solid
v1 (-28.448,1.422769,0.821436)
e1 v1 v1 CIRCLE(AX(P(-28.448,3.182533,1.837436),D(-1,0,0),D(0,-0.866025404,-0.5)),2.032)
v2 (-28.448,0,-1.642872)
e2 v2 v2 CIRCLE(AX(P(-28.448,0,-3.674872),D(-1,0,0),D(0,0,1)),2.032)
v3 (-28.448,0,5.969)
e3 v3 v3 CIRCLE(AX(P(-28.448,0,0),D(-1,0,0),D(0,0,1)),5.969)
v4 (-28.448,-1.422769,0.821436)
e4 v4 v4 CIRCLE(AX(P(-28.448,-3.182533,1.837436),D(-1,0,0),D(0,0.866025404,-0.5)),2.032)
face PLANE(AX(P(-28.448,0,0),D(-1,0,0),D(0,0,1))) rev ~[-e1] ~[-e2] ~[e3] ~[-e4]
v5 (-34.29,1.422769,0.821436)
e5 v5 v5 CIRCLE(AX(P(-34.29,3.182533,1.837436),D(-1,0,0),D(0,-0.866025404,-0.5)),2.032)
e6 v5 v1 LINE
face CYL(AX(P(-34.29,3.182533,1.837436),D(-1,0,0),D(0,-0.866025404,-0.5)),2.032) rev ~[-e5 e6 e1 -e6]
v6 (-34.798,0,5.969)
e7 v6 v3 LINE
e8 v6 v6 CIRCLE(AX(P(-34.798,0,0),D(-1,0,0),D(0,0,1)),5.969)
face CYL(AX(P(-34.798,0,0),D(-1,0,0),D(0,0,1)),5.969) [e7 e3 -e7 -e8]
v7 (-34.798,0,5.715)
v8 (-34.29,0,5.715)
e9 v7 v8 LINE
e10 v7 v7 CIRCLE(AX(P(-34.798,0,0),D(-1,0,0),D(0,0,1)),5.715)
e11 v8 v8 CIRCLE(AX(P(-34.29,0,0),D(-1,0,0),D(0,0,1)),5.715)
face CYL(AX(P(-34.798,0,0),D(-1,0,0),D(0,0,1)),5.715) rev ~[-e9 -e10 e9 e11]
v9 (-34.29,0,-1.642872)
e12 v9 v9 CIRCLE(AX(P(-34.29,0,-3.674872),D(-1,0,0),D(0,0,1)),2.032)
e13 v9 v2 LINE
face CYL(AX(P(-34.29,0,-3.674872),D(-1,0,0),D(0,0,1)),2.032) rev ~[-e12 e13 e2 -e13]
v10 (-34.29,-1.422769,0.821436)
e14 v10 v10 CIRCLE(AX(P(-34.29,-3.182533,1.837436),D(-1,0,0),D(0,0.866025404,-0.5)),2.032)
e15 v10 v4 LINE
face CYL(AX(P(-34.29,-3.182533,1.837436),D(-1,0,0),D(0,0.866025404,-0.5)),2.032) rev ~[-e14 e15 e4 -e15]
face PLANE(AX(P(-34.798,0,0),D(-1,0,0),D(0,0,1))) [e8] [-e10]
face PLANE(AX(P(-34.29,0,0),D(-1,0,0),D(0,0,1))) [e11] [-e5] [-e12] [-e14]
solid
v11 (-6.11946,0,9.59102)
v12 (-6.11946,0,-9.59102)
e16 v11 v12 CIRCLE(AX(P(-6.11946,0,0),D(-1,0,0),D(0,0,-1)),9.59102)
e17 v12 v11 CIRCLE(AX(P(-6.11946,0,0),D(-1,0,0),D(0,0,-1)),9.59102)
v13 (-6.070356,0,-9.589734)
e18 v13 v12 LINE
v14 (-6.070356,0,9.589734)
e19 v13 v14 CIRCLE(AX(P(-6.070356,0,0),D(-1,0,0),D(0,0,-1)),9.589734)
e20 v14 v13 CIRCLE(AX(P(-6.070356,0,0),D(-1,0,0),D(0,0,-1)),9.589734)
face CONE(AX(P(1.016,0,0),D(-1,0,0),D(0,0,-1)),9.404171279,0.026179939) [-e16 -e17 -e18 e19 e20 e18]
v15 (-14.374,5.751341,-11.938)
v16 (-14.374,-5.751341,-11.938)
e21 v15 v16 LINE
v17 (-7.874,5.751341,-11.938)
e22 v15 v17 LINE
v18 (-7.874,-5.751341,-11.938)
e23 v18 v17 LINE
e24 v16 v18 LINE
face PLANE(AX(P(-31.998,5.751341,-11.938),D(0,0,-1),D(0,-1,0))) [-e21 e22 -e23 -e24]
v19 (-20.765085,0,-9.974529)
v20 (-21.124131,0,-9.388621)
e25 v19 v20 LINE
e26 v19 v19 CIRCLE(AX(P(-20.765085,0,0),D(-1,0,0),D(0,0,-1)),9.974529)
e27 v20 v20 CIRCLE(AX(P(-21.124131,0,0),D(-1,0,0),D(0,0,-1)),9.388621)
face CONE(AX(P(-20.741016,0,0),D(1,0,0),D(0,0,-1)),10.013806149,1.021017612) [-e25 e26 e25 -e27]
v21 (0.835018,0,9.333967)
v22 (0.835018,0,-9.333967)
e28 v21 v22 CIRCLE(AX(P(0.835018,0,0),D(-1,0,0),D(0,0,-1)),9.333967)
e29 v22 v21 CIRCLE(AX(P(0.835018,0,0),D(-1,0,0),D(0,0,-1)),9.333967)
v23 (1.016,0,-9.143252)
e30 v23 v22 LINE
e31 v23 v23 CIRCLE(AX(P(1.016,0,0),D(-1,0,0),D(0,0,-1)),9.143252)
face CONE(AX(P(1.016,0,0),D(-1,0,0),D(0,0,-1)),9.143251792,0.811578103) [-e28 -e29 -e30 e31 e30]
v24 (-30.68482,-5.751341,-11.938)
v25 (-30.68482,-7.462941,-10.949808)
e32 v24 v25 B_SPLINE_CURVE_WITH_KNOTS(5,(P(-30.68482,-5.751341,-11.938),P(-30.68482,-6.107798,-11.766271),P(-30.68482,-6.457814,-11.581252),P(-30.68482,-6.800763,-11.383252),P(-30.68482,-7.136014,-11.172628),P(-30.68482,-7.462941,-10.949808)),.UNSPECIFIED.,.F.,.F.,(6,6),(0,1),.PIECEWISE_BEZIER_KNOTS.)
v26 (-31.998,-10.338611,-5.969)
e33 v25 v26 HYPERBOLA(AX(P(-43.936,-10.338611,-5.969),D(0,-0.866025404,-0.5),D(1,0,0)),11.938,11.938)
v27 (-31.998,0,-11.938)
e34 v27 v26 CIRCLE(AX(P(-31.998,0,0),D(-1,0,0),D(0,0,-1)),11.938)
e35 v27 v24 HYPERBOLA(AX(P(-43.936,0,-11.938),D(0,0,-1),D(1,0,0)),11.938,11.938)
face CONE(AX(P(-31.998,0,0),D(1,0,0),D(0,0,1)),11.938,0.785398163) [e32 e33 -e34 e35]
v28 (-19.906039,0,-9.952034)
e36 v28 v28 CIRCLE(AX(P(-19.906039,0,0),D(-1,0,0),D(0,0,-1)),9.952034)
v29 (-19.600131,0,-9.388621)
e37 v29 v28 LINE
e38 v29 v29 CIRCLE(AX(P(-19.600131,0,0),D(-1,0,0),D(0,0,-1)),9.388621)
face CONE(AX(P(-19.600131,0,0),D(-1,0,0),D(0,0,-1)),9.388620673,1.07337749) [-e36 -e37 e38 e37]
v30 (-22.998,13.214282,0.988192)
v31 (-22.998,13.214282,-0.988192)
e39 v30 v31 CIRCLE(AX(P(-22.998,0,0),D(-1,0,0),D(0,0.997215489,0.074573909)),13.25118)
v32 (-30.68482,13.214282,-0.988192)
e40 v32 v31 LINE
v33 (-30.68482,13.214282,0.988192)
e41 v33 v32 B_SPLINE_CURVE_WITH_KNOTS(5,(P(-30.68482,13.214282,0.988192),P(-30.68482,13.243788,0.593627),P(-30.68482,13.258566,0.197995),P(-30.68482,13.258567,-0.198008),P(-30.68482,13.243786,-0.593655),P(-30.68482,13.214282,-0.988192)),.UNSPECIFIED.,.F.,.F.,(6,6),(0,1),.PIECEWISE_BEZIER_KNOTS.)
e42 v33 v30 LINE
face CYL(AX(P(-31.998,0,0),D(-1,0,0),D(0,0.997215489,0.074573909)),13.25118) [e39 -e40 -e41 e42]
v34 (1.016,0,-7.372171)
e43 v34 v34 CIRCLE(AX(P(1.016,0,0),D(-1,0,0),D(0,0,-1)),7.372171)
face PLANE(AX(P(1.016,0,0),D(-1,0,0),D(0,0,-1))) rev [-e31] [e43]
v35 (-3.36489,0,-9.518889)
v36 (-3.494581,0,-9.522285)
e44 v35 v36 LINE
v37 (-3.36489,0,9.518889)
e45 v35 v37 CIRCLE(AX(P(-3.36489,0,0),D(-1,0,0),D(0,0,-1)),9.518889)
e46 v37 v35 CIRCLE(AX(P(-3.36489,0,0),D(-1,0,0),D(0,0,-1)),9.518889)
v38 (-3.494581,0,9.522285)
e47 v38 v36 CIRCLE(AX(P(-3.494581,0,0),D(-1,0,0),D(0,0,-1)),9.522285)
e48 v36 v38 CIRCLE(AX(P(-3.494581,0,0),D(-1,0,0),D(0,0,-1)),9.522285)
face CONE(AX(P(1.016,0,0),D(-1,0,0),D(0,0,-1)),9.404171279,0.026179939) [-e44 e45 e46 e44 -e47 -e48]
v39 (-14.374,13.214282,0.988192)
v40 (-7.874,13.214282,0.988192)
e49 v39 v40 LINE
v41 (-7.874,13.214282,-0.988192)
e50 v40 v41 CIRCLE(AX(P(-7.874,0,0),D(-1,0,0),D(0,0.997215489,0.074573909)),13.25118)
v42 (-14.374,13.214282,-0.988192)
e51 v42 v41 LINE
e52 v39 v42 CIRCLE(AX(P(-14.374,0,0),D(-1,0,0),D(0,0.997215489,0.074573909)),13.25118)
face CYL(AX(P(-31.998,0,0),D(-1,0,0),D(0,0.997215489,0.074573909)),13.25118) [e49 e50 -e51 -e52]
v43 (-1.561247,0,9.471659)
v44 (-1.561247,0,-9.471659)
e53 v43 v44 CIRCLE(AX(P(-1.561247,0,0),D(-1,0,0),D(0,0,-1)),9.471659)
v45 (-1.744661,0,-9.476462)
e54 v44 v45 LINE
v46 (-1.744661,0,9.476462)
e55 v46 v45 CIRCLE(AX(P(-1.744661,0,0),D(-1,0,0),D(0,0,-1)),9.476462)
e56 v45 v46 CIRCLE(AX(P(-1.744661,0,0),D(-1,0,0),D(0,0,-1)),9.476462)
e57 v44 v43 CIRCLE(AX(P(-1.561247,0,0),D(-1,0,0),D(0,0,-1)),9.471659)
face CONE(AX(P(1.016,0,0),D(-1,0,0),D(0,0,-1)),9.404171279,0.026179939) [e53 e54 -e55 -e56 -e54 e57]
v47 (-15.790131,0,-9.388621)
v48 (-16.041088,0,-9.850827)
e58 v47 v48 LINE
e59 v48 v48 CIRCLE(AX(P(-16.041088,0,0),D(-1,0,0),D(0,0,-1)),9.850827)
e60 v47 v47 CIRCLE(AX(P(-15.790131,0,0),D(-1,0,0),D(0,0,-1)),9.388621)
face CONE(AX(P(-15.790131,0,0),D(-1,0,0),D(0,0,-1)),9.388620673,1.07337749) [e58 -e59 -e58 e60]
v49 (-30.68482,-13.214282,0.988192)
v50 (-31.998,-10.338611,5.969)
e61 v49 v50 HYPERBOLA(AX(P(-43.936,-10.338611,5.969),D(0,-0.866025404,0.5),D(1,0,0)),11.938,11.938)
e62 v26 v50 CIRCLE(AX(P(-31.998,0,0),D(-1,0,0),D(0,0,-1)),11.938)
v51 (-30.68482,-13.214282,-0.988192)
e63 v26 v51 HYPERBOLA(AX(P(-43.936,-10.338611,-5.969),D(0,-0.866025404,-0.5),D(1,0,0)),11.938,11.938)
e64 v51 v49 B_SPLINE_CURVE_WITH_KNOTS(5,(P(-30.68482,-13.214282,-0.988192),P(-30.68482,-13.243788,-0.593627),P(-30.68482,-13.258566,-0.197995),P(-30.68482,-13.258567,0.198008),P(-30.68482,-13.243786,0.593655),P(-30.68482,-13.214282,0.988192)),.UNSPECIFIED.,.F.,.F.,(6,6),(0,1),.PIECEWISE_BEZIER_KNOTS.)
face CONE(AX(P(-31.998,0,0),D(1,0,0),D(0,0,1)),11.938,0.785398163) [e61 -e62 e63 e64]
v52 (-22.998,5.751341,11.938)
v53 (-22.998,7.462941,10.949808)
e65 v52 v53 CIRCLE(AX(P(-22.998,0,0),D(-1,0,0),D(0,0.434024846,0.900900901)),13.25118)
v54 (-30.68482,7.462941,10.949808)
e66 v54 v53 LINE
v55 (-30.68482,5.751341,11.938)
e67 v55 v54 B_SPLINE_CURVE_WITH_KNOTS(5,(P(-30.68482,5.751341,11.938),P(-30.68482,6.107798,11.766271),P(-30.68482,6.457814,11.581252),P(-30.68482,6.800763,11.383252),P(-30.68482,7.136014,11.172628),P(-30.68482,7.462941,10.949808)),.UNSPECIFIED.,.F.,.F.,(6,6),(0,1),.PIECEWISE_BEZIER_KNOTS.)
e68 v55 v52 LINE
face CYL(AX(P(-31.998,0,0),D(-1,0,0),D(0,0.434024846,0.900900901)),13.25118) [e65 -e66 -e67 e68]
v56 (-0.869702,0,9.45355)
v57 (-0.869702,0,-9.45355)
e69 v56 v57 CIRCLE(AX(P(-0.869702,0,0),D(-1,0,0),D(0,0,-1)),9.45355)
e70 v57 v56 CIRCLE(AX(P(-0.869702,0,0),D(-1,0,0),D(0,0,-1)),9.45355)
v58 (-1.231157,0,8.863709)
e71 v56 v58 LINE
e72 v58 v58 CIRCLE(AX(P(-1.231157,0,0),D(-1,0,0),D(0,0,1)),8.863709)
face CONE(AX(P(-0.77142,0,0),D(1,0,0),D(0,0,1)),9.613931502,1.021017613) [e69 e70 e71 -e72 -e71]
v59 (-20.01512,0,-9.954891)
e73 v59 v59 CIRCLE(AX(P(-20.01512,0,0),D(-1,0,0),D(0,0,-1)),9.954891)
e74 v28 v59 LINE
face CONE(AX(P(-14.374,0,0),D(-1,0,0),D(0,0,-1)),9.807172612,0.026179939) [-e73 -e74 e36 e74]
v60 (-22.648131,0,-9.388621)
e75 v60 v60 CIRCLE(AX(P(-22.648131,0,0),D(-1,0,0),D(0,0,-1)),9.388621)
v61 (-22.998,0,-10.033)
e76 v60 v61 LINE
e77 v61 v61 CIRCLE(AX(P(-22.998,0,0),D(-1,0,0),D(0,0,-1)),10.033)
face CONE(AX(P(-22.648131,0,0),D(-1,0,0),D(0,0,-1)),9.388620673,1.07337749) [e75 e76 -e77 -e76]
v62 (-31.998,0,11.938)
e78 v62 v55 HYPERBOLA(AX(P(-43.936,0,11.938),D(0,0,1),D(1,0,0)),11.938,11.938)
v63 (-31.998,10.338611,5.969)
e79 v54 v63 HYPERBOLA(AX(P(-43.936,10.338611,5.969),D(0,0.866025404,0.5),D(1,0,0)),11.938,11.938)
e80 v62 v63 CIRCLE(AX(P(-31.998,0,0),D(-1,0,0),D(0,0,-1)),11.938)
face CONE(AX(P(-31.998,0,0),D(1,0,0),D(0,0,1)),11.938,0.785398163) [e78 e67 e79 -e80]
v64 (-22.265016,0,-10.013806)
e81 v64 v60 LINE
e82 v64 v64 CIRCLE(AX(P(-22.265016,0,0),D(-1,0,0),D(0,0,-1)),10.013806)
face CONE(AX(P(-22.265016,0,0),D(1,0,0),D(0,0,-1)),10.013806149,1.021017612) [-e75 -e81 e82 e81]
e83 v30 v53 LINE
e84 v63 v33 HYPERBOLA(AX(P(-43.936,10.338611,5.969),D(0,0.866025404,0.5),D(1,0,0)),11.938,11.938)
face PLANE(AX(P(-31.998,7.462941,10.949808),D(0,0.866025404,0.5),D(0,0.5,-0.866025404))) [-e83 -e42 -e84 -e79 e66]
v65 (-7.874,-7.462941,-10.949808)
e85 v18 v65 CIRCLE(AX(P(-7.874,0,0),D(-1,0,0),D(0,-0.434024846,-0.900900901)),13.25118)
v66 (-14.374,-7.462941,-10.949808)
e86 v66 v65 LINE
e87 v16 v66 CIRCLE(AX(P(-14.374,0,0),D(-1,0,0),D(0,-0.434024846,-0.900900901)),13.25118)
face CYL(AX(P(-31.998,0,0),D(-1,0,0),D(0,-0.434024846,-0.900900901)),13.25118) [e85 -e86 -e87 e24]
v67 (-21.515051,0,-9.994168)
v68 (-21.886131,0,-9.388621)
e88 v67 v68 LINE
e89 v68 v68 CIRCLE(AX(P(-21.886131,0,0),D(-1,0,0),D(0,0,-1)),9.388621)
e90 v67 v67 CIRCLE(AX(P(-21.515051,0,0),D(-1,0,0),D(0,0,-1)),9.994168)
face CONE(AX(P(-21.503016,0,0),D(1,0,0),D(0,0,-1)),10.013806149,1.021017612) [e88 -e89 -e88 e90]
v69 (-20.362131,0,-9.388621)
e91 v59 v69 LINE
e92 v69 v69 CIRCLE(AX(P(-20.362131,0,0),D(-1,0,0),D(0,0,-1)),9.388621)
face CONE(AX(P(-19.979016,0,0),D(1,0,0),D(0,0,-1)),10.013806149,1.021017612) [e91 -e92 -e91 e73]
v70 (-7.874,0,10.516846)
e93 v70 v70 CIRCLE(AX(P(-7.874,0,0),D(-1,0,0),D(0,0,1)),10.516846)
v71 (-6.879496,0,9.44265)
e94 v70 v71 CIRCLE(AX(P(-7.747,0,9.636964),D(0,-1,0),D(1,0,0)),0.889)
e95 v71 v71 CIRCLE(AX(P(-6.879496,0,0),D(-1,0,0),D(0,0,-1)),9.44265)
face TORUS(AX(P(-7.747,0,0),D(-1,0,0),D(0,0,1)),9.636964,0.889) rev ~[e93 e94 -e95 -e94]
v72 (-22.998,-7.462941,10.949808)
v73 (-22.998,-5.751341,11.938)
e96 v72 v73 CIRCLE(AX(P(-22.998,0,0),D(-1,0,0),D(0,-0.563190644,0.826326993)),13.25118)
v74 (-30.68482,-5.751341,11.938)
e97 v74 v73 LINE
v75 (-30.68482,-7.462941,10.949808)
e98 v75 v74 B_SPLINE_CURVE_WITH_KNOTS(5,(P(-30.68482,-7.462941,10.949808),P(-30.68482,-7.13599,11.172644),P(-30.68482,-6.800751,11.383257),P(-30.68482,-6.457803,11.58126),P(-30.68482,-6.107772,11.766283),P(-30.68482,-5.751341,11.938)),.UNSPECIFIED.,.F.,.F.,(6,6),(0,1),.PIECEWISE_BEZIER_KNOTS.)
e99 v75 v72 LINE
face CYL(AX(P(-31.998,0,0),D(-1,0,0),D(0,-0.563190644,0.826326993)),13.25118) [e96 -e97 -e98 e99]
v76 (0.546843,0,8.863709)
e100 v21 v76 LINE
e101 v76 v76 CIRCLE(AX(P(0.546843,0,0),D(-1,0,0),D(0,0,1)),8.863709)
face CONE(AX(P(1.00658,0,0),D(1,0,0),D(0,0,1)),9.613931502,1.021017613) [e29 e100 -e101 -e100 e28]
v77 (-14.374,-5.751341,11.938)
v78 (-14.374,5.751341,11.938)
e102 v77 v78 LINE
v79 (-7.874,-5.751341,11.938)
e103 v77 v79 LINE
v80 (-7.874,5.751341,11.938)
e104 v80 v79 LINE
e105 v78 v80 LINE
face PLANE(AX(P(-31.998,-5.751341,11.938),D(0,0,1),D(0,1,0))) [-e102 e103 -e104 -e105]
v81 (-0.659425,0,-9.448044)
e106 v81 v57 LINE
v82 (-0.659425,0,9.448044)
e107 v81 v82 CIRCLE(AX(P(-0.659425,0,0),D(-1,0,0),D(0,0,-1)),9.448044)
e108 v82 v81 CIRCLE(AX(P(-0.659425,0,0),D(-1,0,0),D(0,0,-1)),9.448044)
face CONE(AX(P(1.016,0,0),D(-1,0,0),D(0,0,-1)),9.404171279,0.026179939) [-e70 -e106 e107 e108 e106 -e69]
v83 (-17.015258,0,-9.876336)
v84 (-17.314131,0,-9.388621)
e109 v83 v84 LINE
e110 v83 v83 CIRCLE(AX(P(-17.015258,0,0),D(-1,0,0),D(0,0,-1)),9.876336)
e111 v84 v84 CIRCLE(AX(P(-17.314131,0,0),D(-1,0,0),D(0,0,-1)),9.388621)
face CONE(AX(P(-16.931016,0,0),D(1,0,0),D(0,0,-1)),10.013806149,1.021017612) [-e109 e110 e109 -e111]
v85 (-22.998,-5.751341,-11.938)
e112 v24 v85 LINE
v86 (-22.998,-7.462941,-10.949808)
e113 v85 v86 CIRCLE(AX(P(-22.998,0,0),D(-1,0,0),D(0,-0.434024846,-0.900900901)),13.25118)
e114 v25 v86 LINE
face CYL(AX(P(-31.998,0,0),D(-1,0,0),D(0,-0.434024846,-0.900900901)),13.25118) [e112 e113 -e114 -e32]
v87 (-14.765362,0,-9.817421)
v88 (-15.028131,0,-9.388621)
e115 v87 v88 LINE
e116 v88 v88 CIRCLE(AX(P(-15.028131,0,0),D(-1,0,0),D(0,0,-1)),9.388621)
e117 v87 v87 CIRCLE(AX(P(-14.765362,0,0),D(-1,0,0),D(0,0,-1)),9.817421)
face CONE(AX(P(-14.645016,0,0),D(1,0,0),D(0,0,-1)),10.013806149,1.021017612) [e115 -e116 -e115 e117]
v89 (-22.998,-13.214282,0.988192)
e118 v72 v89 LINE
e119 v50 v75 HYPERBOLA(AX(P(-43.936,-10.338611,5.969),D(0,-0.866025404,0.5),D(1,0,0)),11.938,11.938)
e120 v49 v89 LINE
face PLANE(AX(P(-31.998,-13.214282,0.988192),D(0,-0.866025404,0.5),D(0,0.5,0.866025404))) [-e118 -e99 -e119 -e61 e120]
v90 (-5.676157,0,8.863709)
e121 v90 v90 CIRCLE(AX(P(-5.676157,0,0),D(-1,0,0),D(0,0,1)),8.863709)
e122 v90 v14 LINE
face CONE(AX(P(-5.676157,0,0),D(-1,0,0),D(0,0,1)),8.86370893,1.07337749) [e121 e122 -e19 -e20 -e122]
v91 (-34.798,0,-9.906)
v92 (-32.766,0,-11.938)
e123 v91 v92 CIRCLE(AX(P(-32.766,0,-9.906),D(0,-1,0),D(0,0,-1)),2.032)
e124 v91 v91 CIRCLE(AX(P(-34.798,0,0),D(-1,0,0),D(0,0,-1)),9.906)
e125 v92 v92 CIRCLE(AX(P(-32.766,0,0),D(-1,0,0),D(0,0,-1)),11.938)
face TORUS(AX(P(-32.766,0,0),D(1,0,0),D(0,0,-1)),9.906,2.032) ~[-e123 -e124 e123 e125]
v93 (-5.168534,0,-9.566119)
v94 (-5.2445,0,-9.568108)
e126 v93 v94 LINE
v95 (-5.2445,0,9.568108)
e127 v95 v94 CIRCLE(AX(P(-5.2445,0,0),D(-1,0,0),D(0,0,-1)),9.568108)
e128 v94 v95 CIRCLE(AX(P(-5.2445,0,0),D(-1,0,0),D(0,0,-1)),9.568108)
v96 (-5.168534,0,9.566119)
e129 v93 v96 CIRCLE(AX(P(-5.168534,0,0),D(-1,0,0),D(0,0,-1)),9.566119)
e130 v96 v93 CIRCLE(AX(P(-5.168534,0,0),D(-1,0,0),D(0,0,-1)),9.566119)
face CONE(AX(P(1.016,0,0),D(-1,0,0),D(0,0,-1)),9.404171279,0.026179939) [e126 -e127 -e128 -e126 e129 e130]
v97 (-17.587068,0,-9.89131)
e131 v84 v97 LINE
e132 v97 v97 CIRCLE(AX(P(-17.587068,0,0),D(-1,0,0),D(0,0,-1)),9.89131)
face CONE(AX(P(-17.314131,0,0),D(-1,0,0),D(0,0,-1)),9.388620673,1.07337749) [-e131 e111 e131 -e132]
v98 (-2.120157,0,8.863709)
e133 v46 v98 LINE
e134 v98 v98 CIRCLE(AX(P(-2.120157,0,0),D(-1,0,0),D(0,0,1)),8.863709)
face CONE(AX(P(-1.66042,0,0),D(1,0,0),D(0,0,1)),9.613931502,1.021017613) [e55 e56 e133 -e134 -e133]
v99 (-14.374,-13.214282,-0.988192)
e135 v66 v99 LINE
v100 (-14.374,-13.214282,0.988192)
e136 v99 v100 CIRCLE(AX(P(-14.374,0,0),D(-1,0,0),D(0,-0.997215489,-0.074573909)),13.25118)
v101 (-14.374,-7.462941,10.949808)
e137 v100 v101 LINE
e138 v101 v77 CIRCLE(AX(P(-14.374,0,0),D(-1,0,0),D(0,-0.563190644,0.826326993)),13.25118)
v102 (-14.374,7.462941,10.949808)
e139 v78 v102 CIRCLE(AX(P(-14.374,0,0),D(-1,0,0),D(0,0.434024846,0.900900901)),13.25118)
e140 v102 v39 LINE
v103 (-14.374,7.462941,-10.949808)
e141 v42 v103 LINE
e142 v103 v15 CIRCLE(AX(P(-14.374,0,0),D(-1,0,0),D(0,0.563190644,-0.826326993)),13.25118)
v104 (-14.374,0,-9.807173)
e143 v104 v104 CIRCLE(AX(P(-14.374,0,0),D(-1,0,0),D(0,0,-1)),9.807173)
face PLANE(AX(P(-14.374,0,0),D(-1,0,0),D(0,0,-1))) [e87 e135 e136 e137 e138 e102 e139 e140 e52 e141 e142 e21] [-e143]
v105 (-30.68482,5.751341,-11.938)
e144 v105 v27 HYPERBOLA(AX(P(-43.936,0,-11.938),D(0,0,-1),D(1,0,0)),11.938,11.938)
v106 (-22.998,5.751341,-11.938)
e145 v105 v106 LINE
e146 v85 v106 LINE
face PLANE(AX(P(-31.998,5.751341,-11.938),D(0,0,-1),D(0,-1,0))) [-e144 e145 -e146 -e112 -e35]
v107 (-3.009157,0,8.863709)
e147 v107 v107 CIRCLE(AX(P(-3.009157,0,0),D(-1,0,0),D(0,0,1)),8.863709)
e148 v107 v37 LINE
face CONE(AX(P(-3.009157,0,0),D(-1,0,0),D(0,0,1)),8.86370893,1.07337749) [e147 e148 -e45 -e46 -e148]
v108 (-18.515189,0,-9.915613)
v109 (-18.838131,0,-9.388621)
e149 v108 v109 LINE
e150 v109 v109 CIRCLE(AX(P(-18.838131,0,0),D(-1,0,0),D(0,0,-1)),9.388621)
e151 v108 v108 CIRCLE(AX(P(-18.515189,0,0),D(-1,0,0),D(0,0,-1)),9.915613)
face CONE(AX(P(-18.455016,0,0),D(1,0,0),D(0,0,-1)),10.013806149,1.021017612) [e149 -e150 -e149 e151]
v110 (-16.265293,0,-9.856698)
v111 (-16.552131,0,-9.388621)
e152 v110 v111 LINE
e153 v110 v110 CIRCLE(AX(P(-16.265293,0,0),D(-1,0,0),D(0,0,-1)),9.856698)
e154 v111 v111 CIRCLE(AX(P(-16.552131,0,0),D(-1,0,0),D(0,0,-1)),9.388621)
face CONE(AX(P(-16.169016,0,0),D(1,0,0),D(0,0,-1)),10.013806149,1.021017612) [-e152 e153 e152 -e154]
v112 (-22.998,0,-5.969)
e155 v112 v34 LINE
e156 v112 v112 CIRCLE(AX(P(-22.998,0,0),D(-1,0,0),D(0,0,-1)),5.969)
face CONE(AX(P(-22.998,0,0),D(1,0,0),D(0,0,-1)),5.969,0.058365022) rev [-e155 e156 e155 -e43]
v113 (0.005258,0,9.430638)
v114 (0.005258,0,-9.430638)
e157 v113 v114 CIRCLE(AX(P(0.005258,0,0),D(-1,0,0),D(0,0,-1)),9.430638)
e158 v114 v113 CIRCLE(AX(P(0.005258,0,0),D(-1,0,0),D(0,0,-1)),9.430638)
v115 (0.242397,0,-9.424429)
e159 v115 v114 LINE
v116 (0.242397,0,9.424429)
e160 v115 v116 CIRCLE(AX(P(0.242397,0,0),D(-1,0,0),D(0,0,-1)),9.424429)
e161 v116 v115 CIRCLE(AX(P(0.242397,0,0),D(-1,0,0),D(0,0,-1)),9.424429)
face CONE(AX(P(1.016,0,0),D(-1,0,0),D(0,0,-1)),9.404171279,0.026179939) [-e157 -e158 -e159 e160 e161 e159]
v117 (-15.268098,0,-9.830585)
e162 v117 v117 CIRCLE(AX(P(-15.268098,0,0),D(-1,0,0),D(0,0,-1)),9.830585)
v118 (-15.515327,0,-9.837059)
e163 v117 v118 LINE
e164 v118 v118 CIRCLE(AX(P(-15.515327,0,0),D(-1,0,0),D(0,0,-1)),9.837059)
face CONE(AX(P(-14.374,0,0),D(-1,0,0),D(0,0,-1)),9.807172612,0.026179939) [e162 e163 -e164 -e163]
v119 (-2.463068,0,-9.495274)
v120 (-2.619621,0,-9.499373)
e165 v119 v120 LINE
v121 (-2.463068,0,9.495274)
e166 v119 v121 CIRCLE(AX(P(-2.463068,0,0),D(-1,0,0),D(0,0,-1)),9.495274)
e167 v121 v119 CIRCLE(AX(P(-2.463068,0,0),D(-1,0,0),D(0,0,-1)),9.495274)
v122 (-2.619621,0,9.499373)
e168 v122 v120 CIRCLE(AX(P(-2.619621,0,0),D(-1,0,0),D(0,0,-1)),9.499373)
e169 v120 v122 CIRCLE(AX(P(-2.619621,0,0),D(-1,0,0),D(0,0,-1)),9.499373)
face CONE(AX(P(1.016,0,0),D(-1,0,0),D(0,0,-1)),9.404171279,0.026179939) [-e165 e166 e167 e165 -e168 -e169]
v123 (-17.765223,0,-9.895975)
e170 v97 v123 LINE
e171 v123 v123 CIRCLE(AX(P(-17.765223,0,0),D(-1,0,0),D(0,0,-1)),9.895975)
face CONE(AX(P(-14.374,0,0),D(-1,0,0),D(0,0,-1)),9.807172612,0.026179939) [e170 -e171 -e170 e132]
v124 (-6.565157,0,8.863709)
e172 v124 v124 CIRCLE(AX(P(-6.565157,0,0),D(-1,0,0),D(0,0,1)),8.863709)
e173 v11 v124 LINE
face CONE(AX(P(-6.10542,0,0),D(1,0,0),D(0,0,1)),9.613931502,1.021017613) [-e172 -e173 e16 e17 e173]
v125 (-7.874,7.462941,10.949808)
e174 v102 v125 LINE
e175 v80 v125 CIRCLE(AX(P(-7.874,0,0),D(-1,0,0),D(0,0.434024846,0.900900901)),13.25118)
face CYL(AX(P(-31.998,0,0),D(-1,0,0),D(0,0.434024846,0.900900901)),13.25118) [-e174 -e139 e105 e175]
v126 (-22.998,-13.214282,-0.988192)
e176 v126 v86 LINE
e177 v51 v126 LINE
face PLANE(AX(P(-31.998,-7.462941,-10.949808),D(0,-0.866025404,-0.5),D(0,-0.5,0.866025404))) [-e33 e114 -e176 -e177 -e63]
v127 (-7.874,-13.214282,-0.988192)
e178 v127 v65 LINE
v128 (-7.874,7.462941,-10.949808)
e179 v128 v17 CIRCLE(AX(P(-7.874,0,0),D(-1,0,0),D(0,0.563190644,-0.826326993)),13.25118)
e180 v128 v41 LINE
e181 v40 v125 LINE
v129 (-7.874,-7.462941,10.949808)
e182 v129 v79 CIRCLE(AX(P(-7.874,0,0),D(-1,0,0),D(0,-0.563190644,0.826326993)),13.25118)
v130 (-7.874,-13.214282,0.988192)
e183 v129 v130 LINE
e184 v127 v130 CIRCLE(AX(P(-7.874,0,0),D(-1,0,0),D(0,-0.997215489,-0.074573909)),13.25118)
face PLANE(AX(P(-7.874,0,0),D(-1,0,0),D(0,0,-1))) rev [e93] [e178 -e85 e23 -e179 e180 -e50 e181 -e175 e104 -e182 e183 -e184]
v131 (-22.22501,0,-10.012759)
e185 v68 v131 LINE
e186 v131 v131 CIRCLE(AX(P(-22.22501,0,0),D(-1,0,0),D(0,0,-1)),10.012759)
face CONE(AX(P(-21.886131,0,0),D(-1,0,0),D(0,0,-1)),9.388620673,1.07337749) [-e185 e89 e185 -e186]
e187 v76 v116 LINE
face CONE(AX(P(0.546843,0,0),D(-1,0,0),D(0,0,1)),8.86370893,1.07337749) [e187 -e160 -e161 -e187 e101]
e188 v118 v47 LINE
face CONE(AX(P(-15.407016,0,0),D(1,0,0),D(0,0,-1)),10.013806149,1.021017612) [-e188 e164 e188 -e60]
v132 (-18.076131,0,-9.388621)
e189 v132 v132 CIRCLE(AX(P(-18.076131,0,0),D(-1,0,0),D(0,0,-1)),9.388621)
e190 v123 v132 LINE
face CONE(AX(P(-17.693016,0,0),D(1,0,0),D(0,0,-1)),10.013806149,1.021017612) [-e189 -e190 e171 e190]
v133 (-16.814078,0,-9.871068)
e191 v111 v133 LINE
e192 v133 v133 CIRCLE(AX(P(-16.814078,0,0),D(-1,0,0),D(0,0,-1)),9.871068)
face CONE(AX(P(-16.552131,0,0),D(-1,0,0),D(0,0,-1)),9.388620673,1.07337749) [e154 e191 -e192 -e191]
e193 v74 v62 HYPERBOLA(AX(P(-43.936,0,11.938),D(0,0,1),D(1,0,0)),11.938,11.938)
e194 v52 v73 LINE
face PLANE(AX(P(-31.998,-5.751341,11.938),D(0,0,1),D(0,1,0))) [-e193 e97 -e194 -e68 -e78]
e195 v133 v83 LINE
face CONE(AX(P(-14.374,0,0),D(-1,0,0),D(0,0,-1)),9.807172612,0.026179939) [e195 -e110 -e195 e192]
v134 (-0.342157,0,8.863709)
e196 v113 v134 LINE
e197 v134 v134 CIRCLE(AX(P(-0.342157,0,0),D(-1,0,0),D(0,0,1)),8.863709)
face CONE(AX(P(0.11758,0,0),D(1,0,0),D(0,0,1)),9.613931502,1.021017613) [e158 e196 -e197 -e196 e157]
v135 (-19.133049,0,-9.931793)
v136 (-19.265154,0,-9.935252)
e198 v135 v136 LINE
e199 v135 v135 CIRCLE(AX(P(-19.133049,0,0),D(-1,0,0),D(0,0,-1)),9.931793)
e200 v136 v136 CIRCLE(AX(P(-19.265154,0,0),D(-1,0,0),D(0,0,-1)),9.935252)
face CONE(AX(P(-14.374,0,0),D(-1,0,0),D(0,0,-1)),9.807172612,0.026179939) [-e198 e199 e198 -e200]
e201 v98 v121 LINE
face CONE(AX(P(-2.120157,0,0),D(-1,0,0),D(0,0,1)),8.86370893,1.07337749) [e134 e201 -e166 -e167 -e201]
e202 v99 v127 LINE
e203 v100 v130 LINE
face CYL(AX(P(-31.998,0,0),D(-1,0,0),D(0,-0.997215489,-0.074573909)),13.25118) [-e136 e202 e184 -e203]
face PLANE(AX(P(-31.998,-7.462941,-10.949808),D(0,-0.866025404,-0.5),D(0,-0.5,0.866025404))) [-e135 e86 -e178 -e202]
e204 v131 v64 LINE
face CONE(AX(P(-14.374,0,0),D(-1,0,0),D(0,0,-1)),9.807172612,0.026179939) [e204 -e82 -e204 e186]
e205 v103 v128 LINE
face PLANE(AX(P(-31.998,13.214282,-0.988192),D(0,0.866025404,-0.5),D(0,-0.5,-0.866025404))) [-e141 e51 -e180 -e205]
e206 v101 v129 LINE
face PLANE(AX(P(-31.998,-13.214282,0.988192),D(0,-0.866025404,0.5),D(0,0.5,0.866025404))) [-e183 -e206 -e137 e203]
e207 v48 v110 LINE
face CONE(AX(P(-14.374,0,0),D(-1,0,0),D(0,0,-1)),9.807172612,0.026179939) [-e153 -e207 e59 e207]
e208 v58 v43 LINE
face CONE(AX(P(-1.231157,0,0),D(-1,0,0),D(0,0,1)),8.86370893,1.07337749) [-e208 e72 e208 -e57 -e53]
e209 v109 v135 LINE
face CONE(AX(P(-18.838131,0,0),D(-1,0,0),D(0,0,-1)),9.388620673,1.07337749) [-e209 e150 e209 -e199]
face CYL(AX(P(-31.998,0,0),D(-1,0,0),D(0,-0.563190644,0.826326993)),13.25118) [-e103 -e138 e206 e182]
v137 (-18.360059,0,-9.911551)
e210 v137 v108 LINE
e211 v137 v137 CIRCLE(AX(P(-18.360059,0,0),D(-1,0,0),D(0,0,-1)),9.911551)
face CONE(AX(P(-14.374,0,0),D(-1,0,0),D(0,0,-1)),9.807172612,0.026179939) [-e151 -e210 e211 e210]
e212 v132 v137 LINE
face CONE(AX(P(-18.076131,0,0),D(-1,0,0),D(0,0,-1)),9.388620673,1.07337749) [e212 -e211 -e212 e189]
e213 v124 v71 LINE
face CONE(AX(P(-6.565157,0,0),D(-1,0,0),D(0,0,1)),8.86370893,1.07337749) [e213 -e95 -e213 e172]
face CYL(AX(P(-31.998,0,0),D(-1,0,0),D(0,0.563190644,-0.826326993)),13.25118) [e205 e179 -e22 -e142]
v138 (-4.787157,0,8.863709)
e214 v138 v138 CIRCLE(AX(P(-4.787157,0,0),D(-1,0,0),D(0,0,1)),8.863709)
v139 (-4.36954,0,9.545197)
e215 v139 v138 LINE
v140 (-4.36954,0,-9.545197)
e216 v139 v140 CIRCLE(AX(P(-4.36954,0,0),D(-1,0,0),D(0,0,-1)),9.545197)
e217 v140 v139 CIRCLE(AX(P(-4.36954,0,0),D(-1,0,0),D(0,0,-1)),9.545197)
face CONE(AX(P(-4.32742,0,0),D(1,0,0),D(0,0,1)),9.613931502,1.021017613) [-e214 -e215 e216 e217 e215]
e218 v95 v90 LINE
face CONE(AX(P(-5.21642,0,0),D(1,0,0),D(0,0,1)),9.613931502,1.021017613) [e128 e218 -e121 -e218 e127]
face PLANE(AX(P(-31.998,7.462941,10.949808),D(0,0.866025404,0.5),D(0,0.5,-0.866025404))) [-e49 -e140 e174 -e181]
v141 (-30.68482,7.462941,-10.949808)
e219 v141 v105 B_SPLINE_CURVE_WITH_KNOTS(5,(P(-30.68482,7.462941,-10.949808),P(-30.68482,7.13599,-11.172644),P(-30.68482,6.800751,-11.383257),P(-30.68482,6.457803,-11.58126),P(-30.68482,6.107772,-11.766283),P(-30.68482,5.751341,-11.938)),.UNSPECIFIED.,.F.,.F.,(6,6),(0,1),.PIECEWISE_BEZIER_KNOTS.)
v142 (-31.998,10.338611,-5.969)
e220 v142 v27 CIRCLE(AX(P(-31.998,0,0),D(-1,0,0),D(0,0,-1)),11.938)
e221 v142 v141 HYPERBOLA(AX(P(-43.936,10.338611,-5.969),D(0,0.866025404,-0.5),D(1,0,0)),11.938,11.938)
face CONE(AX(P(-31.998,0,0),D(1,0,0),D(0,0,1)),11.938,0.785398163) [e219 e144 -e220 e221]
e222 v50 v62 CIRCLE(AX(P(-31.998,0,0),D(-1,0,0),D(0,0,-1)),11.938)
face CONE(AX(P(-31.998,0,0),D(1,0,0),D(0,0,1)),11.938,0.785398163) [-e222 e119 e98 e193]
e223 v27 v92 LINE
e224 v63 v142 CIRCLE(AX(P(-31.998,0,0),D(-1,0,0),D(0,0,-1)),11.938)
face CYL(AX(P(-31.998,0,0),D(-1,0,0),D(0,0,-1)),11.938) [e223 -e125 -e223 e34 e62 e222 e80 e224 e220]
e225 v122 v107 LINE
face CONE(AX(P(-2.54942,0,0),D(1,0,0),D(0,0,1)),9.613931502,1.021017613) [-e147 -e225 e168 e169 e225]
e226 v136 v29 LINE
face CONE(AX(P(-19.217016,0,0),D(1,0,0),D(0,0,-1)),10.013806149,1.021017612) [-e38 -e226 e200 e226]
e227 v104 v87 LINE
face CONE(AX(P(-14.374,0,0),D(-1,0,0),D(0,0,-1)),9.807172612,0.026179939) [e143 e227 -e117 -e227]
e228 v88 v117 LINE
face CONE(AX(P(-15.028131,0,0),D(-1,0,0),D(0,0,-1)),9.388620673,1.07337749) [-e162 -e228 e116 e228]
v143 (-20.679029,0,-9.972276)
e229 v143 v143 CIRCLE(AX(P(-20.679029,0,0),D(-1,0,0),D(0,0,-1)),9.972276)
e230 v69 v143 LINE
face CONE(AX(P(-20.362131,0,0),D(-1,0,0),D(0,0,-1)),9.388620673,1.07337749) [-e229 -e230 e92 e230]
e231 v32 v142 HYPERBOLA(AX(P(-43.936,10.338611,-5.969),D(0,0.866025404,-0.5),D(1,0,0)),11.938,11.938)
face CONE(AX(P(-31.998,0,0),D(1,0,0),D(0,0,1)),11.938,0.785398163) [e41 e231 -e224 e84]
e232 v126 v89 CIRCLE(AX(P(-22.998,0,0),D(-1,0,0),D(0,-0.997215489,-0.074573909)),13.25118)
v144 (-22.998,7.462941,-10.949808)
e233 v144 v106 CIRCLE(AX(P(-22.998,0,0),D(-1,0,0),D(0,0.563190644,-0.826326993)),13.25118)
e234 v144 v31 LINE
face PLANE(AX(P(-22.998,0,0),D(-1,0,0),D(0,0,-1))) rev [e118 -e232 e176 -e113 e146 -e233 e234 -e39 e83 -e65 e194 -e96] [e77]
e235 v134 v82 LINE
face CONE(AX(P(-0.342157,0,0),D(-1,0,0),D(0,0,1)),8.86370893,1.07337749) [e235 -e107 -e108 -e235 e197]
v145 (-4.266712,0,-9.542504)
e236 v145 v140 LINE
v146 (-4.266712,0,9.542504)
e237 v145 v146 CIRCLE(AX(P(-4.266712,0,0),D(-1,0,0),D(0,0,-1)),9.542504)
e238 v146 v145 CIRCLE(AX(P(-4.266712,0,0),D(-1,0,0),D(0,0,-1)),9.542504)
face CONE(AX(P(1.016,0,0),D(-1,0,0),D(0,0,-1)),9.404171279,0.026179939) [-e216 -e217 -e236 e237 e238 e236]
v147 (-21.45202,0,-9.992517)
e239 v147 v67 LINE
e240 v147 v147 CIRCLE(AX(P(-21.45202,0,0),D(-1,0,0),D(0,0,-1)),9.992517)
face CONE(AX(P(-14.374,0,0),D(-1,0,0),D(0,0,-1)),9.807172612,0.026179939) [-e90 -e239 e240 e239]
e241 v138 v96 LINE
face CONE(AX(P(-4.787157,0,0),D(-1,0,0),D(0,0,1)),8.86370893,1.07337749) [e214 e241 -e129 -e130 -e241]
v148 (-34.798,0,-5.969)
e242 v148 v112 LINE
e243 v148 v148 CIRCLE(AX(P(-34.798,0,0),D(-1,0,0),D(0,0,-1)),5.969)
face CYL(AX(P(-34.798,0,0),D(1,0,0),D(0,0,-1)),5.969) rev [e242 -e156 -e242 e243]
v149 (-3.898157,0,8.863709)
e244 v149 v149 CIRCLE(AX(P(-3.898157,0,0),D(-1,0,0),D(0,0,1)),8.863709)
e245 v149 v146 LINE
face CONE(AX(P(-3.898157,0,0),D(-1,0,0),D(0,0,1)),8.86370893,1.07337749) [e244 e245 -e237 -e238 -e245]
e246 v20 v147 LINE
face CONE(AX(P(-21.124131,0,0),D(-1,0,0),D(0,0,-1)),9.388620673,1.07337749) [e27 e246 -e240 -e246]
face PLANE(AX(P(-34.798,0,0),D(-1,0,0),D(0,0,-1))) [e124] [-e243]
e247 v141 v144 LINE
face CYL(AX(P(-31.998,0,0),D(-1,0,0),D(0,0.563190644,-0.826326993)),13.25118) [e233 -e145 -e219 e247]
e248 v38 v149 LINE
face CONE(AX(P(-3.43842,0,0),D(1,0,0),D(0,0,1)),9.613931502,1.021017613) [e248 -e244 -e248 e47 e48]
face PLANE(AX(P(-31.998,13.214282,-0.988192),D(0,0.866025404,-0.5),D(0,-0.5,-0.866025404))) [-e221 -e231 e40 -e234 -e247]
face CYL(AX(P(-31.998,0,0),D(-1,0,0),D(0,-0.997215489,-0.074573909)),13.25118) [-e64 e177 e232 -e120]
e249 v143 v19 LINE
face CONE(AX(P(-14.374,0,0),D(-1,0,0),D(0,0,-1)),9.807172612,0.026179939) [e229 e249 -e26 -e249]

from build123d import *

# Parameters (mm, degrees)
SKETCH12_OUTSIDE_W = 65.04
SKETCH12_OUTSIDE_H = 65.04
CUT_EXTRUDE2_DEPTH = 34.014
FILLET4_R          = 2.032
SKETCH19_OUTSIDE_W = 39.986
SKETCH19_OUTSIDE_H = 42.612
SKETCH19_OUTSIDE_R = 11.938
CUT_EXTRUDE3_DEPTH = 1.999996
CUT_EXTRUDE3_DRAFT = -45
CHAMFER1_SIZE      = 0.260919487
CHAMFER1_SIZE2     = 0.254
SKETCH21_R         = 5.969
PLUG_DEPTH         = 6.35
SKETCH22_R         = 5.715
CUT_EXTRUDE4_DEPTH = 0.508
SKETCH27_R         = 2.032
PLUGHOLES_DEPTH    = 36.306
CIRPATTERN1_COUNT  = 3
LPATTERN1_COUNT    = 11
LPATTERN1_PITCH    = 0.762
LPATTERN2_COUNT    = 10
LPATTERN2_PITCH    = 0.889
SKETCH32_R         = 0.889


with BuildPart() as part:
    # Sketch10 → Revolve2 (revolve)
    with BuildSketch(Plane.XY, mode=Mode.PRIVATE) as revolve2_sk:
        Polygon((-34.798, 5.969), (-22.998, 5.969), (1.016, 7.372171279), (1.016, 9.404171279), (-7.874, 9.636964122), (-7.874, 23.876), (-14.374, 23.876), (-14.374, 9.807172612), (-22.998, 10.033), (-22.998, 23.876), (-31.998, 23.876), (-31.998, 11.938), (-34.798, 11.938), align=None)
    revolve(revolve2_sk.sketch.rotate(Axis((0, 0, 0), (-1, 0, 0)), 90), axis=Axis((0, 0, 0), (-1, 0, 0)))  # turned: the seam where the file's is

    # Sketch12 outside → Cut-Extrude2 (cut, through all)
    with BuildSketch(Plane.ZY.offset(31.998)):
        Rectangle(SKETCH12_OUTSIDE_W, SKETCH12_OUTSIDE_H)
        with BuildLine():
            Line((-0.98819228, 13.214281948), (-10.94980772, 7.462940592))
            ThreePointArc((-10.94980772, 7.462940592), (-11.47585851, 6.62559), (-11.938, 5.751341356))
            Line((-11.938, 5.751341356), (-11.938, -5.751341356))
            ThreePointArc((-11.938, -5.751341356), (-11.47585851, -6.62559), (-10.94980772, -7.462940592))
            Line((-10.94980772, -7.462940592), (-0.98819228, -13.214281948))
            ThreePointArc((-0.98819228, -13.214281948), (0, -13.25118), (0.98819228, -13.214281948))
            Line((0.98819228, -13.214281948), (10.94980772, -7.462940592))
            ThreePointArc((10.94980772, -7.462940592), (11.47585851, -6.62559), (11.938, -5.751341356))
            Line((11.938, -5.751341356), (11.938, 5.751341356))
            ThreePointArc((11.938, 5.751341356), (11.47585851, 6.62559), (10.94980772, 7.462940592))
            Line((10.94980772, 7.462940592), (0.98819228, 13.214281948))
            ThreePointArc((0.98819228, 13.214281948), (0, 13.25118), (-0.98819228, 13.214281948))
        make_face(mode=Mode.SUBTRACT)
    extrude(amount=-CUT_EXTRUDE2_DEPTH, mode=Mode.SUBTRACT)

    # Fillet4
    fillet4_edges = [part.edges().sort_by_distance(p)[0] for p in [
        (-34.798, 0, 11.938),
    ]]
    fillet(fillet4_edges, radius=FILLET4_R)


with BuildPart() as cut_extrude3_tool:
    # Sketch19 outside → Cut-Extrude3 (with draft: the straight prism first)
    with BuildSketch(Plane.ZY.offset(31.998)):
        Rectangle(SKETCH19_OUTSIDE_W, SKETCH19_OUTSIDE_H)
        Circle(SKETCH19_OUTSIDE_R, mode=Mode.SUBTRACT)
    extrude(amount=-CUT_EXTRUDE3_DEPTH)
    # Cut-Extrude3: the draft: its side faces are tilted about the plane it starts from
    cut_extrude3_sides = [cut_extrude3_tool.faces().sort_by_distance(p)[0] for p in [
        (-30.998002, -21.306, 0),
        (-30.998002, 0, 19.993),
        (-30.998002, 21.306, 0),
        (-30.998002, 0, -19.993),
        (-30.998002, 0, -11.938),
    ]]
    draft(cut_extrude3_sides, Plane.ZY.offset(31.998), CUT_EXTRUDE3_DRAFT)


with BuildPart() as part_1:
    add(part.part)

    # Cut-Extrude3: cut by cut_extrude3_tool
    add(cut_extrude3_tool.part, mode=Mode.SUBTRACT)

    # Chamfer1
    chamfer1_edges = [part_1.edges().sort_by_distance(p)[0] for p in [
        (1.016, 0, 9.404171279),
    ]]
    chamfer1_side = [part_1.faces().sort_by_distance(p)[0] for p in [
        (1.016, 0, 7.638161411),
    ]]
    chamfer(chamfer1_edges, length=CHAMFER1_SIZE, length2=CHAMFER1_SIZE2, reference=chamfer1_side[0])

    # Sketch29 → Cut-Revolve1 (revolve, cut)
    with BuildSketch(Plane.XY, mode=Mode.PRIVATE) as cut_revolve1_sk:
        Polygon((-22.998, 10.033), (-22.265016419, 10.013806149), (-22.648130572, 9.388620673), align=None)
    cut_revolve1 = revolve(cut_revolve1_sk.sketch.rotate(Axis((0, 0, 0), (-1, 0, 0)), 90), axis=Axis((0, 0, 0), (-1, 0, 0)), mode=Mode.SUBTRACT)  # turned: the seam where the file's is

    # LPattern1: Cut-Revolve1 ×11
    with Locations(*[(i * LPATTERN1_PITCH, 0, 0) for i in range(1, LPATTERN1_COUNT)]):
        add(cut_revolve1, mode=Mode.SUBTRACT)

    # Sketch30 → Cut-Revolve2 (revolve, cut)
    with BuildSketch(Plane.XY, mode=Mode.PRIVATE) as cut_revolve2_sk:
        Polygon((-7.874, 9.636964122), (-6.994419703, 9.613931502), (-7.454156686, 8.86370893), align=None)
    cut_revolve2 = revolve(cut_revolve2_sk.sketch.rotate(Axis((0, 0, 0), (-1, 0, 0)), 270), axis=Axis((0, 0, 0), (-1, 0, 0)), mode=Mode.SUBTRACT)  # turned: the seam where the file's is

    # LPattern2: Cut-Revolve2 ×10
    with Locations(*[(i * LPATTERN2_PITCH, 0, 0) for i in range(1, LPATTERN2_COUNT)]):
        add(cut_revolve2, mode=Mode.SUBTRACT)

    # Sketch32 → Cut-Revolve3 (revolve, cut)
    with BuildSketch(Plane.XY, mode=Mode.PRIVATE) as cut_revolve3_sk:
        with Locations((-7.747, 9.636964122)):
            Circle(SKETCH32_R)
    revolve(cut_revolve3_sk.sketch.rotate(Axis((0, 0, 0), (-1, 0, 0)), 270), axis=Axis((0, 0, 0), (-1, 0, 0)), mode=Mode.SUBTRACT)  # turned: the seam where the file's is


with BuildPart() as body_2:
    # Sketch21 → plug (new body)
    with BuildSketch(Plane.ZY.offset(34.798)):
        Circle(SKETCH21_R)
    extrude(amount=-PLUG_DEPTH)

    # Sketch22 → Cut-Extrude4 (cut)
    with BuildSketch(Plane.ZY.offset(34.798)):
        Circle(SKETCH22_R)
    extrude(amount=-CUT_EXTRUDE4_DEPTH, mode=Mode.SUBTRACT)

    # Sketch27 → plugholes (cut, through all)
    with BuildSketch(Plane.ZY.offset(34.29)):
        with Locations((-3.674872, 0)):
            Circle(SKETCH27_R)
    plugholes = extrude(amount=-PLUGHOLES_DEPTH, mode=Mode.SUBTRACT)

    # CirPattern1: plugholes ×3 about axis
    cirpattern1_axis = Axis((0, 0, 0), (1, 0, 0))
    for i in range(1, CIRPATTERN1_COUNT):
        add(plugholes.rotate(cirpattern1_axis, i * 360 / CIRPATTERN1_COUNT), mode=Mode.SUBTRACT)


solid = Compound([part_1.part, body_2.part])
